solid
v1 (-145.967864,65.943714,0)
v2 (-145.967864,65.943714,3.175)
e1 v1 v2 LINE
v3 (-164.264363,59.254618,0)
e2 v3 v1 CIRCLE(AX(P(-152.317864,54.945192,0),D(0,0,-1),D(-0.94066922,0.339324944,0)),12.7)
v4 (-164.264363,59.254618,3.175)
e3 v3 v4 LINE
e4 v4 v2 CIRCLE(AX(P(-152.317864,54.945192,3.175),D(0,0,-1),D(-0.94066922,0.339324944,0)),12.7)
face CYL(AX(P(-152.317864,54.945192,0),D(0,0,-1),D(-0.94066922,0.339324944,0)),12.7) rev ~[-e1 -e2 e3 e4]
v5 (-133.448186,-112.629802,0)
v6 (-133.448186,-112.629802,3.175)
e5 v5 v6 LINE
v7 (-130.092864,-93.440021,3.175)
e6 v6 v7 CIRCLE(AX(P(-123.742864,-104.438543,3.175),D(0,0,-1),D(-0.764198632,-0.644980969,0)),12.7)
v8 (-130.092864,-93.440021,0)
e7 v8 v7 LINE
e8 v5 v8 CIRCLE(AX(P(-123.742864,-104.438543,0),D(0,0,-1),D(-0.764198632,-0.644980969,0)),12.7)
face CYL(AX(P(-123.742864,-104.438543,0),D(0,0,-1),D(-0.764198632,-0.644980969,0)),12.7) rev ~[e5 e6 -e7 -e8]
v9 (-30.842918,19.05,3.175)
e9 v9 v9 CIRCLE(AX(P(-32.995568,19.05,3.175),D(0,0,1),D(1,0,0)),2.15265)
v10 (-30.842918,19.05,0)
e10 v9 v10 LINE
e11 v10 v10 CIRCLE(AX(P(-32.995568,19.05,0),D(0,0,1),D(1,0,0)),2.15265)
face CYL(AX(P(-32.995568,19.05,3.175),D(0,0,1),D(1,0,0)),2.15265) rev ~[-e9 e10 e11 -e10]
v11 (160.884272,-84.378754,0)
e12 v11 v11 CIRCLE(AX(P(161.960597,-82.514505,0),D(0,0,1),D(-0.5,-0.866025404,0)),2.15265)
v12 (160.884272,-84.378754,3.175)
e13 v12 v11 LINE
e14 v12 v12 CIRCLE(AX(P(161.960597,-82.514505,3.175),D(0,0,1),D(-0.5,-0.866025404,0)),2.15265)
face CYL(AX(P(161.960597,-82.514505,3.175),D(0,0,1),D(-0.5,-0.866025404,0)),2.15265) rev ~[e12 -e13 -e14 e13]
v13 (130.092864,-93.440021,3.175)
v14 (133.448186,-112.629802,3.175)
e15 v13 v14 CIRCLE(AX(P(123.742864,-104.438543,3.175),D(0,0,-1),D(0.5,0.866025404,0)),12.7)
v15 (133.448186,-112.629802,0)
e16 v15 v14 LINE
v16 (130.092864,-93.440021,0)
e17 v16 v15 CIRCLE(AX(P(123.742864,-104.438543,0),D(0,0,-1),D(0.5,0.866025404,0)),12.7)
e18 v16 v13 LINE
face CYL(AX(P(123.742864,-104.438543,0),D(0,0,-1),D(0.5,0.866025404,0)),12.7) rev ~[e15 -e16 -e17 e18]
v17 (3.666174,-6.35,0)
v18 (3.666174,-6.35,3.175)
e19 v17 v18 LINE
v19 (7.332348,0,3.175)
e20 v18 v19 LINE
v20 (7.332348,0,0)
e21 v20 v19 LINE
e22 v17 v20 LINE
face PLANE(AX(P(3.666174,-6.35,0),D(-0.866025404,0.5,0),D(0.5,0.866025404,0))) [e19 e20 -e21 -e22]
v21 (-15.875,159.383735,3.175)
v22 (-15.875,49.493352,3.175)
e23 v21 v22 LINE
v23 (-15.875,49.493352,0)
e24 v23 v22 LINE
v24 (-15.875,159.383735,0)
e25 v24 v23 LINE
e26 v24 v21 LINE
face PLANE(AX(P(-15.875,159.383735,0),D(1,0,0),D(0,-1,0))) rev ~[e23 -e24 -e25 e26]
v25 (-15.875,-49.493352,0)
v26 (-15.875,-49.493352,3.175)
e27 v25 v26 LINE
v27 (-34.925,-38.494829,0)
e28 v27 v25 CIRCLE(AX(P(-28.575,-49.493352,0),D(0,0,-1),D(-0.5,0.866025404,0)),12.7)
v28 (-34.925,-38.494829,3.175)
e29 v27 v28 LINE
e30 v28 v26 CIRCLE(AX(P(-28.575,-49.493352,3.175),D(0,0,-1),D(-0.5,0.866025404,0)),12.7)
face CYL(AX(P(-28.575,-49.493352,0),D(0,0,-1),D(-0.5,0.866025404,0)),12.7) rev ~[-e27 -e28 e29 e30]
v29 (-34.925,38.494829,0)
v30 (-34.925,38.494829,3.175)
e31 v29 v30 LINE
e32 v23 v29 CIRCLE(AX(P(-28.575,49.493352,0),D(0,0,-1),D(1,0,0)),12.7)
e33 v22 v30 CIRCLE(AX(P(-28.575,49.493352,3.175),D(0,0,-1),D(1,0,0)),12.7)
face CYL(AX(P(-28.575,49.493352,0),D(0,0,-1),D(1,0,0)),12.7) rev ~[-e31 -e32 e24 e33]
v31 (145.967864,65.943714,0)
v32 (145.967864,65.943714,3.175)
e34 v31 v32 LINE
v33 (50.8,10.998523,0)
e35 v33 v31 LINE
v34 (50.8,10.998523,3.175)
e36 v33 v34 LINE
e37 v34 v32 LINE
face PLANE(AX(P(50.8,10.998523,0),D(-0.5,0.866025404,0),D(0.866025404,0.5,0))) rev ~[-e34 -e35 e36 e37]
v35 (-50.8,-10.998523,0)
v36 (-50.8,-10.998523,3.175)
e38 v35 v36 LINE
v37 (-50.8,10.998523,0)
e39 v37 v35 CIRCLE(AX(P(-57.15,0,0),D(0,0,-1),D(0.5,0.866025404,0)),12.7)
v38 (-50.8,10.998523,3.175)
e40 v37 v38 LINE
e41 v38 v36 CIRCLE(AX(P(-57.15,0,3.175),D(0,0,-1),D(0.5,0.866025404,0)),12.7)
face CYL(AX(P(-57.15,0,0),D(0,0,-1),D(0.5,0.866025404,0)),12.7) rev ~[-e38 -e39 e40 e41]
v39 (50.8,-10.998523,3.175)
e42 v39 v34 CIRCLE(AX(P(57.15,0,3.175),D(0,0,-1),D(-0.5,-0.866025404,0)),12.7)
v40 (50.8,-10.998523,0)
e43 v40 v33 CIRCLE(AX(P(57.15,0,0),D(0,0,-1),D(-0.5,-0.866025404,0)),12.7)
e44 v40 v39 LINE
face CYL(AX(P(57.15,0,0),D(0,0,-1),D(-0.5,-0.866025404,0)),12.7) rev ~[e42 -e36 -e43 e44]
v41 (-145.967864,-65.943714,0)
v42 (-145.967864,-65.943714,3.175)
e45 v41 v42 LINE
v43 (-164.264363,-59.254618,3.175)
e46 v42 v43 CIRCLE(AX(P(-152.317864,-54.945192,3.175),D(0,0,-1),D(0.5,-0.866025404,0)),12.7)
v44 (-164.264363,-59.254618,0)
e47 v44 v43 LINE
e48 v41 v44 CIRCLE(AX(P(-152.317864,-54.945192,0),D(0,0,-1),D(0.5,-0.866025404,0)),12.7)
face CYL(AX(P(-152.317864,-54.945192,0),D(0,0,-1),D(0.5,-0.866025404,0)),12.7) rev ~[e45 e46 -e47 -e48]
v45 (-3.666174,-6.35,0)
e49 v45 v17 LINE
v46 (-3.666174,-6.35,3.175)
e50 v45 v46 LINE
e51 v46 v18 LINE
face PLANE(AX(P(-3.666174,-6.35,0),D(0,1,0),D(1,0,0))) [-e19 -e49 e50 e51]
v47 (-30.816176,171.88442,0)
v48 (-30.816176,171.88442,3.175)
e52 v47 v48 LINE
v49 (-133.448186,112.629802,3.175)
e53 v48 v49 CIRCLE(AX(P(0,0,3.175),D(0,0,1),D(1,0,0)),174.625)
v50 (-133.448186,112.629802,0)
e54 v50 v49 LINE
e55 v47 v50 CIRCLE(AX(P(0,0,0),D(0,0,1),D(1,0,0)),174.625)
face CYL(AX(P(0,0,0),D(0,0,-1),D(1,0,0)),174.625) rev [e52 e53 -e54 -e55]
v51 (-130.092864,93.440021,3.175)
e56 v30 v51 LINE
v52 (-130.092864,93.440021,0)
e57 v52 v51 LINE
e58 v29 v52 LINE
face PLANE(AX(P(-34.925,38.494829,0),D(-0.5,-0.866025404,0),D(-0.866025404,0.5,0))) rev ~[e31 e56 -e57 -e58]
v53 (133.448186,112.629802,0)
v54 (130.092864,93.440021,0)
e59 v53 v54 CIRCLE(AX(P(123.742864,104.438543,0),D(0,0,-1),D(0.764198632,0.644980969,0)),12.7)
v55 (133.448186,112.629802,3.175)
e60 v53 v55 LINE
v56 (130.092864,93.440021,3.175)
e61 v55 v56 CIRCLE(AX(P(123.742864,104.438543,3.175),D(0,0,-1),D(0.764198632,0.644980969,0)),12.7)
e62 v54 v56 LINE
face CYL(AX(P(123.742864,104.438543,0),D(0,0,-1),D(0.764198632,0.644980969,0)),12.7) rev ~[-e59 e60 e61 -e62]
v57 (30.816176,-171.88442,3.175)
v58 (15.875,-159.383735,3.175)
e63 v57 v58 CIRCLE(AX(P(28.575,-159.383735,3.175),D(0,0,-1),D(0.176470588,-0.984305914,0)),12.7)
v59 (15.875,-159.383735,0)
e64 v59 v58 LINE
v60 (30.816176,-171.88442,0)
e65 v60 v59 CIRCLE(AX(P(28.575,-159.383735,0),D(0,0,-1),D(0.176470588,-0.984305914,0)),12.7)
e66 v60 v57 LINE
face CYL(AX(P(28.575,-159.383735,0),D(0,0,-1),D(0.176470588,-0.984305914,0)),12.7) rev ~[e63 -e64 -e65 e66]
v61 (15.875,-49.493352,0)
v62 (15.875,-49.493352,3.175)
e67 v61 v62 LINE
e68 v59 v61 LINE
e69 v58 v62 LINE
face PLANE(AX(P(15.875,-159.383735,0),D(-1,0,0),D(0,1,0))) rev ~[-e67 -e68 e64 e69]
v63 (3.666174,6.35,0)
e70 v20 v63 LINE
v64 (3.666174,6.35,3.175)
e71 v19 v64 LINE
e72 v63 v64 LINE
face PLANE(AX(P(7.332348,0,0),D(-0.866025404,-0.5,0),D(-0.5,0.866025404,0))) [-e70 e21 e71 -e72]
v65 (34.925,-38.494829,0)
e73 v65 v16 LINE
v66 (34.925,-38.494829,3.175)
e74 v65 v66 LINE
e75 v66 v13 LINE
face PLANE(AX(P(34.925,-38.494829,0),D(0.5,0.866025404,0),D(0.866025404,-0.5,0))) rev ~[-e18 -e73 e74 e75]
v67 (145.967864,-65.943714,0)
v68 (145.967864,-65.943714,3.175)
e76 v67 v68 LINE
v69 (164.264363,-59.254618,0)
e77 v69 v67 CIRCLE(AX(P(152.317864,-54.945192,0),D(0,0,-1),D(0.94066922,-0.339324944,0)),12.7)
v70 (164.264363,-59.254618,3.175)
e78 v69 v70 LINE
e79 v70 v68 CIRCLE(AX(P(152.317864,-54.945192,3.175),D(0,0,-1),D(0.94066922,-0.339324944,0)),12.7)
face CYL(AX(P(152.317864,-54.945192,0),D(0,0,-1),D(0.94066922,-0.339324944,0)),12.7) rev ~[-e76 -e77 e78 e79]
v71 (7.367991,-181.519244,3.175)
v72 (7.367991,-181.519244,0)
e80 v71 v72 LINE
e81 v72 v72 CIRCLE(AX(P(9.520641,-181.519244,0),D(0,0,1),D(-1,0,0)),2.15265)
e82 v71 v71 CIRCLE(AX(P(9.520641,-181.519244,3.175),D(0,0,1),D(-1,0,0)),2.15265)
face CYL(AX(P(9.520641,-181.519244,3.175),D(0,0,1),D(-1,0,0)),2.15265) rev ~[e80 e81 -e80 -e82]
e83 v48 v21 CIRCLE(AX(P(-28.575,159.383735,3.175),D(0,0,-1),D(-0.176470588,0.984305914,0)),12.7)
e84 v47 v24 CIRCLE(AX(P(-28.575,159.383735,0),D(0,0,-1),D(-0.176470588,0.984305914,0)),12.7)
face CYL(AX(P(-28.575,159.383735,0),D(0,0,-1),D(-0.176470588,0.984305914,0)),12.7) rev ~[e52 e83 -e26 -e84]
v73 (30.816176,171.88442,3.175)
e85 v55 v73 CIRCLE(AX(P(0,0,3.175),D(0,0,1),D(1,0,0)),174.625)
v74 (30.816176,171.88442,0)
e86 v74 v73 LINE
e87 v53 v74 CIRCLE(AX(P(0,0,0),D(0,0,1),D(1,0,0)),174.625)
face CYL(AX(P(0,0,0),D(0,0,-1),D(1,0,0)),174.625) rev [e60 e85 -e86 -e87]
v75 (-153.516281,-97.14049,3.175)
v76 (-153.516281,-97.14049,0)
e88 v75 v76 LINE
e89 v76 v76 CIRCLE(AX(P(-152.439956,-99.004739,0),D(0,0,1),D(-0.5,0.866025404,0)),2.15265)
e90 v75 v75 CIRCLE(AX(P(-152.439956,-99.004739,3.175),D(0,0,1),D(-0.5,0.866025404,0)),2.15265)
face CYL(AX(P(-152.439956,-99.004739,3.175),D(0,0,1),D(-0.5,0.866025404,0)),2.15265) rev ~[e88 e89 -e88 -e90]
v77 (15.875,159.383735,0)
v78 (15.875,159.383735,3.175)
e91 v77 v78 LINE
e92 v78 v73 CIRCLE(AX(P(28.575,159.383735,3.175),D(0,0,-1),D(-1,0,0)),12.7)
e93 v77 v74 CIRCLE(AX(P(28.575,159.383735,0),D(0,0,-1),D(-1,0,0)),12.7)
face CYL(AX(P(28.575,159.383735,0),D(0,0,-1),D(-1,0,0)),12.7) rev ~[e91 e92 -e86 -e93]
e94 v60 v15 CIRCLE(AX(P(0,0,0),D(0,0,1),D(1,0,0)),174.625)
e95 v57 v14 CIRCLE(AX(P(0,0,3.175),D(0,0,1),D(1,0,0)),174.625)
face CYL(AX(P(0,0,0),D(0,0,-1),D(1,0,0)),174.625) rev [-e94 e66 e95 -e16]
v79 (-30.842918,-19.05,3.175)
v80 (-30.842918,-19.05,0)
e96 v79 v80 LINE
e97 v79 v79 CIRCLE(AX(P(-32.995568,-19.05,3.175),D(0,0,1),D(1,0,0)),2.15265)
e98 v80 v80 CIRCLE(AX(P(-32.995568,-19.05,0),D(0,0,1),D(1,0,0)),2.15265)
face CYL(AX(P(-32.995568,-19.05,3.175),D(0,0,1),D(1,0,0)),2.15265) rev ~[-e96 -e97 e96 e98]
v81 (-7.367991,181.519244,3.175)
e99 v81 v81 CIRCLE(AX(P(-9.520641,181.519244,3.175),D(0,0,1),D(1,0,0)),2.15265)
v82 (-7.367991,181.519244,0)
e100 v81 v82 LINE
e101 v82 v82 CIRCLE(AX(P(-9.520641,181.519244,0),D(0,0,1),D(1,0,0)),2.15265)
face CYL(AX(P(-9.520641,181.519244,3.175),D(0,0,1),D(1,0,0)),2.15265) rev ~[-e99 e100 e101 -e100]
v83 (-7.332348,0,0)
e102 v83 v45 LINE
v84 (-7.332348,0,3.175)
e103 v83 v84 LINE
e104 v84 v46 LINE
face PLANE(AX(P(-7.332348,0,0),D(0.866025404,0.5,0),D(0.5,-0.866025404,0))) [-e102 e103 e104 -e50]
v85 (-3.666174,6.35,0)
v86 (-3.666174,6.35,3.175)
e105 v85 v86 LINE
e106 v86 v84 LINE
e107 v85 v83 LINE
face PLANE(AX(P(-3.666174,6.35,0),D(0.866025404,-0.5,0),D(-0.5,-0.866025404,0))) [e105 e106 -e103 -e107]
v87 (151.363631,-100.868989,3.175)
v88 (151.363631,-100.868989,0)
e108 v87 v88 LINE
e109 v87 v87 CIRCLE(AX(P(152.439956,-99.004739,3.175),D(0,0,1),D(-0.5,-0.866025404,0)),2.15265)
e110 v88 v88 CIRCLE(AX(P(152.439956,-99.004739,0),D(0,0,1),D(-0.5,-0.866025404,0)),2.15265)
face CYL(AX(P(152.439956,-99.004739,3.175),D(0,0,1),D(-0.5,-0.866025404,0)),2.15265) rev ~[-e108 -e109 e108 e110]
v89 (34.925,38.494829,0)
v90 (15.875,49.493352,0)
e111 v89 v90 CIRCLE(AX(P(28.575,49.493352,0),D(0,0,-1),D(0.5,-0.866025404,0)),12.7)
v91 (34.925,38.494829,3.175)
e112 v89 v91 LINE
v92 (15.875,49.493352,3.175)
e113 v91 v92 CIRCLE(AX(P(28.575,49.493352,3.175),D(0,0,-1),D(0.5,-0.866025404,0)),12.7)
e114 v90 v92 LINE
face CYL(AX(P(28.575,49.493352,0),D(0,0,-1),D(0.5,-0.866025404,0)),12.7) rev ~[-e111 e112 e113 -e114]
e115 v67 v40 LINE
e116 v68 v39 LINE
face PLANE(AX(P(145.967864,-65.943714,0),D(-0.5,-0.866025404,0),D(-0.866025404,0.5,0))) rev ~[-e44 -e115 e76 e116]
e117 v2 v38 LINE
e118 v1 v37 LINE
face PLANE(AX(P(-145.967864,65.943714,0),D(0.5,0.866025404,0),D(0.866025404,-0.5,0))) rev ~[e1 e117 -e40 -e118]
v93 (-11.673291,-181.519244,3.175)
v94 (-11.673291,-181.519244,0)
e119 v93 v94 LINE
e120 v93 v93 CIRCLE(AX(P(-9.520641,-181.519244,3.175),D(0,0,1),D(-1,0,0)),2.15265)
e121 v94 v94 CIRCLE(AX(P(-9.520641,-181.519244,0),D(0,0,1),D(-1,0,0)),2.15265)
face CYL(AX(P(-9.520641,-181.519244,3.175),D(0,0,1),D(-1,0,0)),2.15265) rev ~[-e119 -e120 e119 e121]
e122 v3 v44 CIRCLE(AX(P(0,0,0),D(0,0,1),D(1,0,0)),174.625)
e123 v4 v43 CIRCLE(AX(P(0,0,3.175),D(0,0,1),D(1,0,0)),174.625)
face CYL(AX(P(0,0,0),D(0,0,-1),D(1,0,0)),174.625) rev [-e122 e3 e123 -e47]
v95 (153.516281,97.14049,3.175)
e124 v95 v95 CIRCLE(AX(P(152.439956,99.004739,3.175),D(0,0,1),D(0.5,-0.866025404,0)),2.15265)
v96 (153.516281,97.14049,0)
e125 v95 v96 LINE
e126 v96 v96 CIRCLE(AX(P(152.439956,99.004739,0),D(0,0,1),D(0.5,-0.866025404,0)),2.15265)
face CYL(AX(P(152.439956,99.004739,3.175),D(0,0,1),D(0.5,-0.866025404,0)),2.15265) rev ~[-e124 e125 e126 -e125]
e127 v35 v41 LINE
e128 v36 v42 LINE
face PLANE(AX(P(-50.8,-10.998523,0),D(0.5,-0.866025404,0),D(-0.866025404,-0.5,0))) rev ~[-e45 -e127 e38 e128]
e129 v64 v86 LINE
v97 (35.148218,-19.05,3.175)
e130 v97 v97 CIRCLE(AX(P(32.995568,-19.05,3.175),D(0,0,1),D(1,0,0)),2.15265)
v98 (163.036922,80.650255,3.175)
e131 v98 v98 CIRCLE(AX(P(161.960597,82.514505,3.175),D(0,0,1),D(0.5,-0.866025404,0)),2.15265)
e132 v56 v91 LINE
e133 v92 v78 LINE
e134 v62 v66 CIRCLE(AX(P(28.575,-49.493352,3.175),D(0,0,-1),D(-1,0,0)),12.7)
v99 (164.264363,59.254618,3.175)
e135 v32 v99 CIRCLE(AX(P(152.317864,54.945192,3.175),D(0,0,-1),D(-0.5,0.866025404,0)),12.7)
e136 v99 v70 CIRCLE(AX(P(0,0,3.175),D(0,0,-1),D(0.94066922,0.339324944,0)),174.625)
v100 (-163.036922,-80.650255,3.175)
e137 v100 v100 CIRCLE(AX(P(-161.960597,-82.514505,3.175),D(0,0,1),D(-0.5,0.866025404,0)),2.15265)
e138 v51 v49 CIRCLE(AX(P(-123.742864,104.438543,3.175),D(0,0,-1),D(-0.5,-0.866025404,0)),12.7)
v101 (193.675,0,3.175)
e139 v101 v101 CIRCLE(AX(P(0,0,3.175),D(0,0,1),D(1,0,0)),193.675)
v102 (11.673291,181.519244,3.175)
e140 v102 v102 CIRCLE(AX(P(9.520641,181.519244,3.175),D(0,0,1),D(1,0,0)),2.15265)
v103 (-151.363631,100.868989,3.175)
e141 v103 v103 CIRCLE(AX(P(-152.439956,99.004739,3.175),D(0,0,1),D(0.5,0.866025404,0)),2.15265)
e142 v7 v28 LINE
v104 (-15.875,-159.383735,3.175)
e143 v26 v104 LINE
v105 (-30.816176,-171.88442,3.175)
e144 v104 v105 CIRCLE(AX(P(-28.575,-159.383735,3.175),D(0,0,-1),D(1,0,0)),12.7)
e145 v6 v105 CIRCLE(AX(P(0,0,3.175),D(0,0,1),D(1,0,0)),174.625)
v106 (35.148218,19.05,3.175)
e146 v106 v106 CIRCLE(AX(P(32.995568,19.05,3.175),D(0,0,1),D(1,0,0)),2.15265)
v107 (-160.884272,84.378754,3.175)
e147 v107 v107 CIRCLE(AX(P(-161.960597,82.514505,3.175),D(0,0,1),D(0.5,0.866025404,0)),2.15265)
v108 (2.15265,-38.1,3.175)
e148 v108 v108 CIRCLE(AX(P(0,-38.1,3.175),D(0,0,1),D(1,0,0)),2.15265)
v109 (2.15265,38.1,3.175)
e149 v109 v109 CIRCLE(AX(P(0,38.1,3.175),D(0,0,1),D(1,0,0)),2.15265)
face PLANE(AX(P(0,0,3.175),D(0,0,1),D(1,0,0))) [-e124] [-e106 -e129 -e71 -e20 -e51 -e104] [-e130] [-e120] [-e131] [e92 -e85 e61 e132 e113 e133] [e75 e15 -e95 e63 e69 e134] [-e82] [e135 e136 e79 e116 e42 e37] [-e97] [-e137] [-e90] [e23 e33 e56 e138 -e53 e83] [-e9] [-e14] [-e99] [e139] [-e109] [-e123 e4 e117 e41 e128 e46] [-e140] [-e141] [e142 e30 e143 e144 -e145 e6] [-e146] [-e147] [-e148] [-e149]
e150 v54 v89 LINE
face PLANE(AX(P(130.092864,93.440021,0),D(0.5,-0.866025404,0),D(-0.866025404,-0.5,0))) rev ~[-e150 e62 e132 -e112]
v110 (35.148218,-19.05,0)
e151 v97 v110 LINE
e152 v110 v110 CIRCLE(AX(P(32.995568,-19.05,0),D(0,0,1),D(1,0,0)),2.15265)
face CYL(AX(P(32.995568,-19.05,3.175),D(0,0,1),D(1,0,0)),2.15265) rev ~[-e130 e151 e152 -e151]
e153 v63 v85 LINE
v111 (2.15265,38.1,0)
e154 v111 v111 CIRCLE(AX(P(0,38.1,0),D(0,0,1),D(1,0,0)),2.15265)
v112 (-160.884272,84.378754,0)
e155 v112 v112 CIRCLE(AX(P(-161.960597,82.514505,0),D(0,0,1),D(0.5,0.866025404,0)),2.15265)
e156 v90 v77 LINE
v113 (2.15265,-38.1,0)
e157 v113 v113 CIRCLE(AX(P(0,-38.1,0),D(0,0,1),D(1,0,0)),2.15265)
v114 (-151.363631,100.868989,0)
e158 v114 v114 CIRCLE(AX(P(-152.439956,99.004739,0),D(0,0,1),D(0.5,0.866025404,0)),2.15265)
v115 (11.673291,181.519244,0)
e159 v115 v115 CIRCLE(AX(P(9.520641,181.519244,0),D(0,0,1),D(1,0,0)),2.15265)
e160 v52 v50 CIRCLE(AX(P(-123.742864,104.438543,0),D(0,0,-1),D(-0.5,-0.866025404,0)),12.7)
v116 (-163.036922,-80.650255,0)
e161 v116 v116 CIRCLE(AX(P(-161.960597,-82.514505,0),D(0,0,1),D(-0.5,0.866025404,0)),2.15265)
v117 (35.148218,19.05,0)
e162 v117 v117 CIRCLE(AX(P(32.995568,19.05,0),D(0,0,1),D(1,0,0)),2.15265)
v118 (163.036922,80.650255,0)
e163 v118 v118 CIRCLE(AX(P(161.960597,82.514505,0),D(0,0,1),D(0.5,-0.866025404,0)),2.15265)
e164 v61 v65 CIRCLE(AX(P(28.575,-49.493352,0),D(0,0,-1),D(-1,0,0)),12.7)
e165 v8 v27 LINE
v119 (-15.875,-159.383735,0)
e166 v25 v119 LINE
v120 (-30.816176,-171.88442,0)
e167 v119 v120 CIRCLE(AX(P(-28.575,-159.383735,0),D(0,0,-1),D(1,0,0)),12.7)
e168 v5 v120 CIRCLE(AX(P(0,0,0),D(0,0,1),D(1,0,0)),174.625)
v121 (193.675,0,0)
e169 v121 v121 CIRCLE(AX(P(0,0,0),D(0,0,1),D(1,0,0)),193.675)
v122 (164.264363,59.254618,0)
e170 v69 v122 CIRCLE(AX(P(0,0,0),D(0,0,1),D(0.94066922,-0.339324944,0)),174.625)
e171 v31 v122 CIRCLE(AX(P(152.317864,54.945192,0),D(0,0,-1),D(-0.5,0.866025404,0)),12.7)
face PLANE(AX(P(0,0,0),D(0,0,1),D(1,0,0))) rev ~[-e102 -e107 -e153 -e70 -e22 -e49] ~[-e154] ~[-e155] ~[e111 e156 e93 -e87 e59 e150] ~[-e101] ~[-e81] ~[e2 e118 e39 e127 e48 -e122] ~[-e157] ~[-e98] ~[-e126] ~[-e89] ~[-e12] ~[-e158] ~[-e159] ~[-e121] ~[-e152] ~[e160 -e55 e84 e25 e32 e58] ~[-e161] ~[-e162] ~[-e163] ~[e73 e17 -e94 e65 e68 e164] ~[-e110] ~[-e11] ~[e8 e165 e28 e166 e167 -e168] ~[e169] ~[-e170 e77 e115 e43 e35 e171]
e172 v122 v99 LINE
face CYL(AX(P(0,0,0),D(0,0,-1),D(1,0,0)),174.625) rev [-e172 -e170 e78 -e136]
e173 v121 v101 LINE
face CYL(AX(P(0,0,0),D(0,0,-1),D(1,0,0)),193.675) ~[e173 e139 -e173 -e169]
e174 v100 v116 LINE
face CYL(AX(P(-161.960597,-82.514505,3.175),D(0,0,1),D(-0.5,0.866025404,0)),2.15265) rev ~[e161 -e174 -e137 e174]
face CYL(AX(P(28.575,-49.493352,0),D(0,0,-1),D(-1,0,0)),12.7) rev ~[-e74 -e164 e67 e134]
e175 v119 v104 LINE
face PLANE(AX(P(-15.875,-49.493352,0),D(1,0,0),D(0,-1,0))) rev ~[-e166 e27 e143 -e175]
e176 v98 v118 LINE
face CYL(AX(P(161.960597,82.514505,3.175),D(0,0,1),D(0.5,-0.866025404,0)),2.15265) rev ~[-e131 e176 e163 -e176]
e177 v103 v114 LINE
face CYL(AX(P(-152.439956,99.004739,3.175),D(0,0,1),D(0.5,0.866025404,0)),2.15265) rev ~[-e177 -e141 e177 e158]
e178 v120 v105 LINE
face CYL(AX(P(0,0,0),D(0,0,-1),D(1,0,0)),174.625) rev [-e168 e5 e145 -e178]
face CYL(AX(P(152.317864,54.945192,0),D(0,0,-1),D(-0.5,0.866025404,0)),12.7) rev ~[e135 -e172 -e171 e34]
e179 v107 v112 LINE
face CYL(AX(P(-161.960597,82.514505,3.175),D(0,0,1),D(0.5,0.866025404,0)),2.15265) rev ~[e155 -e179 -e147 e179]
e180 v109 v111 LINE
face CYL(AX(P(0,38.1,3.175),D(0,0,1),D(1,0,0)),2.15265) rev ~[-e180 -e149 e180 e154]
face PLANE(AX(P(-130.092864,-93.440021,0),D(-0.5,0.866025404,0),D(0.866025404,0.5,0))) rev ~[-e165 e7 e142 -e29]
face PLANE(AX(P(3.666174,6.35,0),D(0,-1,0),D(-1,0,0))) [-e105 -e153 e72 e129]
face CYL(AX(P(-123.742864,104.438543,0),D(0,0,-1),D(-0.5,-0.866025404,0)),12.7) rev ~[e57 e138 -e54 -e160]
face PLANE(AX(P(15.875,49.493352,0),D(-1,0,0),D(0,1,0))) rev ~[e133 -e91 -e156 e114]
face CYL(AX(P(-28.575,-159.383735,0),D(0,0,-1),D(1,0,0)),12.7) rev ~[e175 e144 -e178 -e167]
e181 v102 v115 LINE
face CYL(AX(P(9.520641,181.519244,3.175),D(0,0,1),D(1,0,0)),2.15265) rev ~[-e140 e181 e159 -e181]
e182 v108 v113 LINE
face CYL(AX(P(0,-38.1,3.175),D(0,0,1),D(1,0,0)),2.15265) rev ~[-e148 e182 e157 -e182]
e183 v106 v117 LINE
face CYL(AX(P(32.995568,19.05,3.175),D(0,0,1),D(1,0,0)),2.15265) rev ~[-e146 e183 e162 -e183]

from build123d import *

# Parameters (mm, degrees)
SKETCH1_R             = 193.675
SKETCH1_R_2           = 174.625
BOSS_EXTRUDE1_DEPTH   = 3.175
SKETCH1_R_3           = 33.3375
BOSS_EXTRUDE1_2_DEPTH = 3.175
BOSS_EXTRUDE2_START   = -3.175
BOSS_EXTRUDE2_DEPTH   = 3.175
SKETCH3_R             = 2.15265
CUT_EXTRUDE1_DEPTH    = 3.175
SKETCH4_R             = 2.15265
CUT_EXTRUDE2_DEPTH    = 3.175
CIRPATTERN1_COUNT     = 6


with BuildPart() as part:
    # Sketch1 → Boss-Extrude1 (new body)
    with BuildSketch(Plane.XY):
        Circle(SKETCH1_R)
        Circle(SKETCH1_R_2, mode=Mode.SUBTRACT)
    extrude(amount=BOSS_EXTRUDE1_DEPTH)



with BuildPart() as body_2:
    # Sketch1 → Boss-Extrude1 2 (new body)
    with BuildSketch(Plane.XY):
        Circle(SKETCH1_R_3)
        Polygon((7.332348419, 0), (3.666174209, 6.35), (-3.666174209, 6.35), (-7.332348419, 0), (-3.666174209, -6.35), (3.666174209, -6.35), align=None, mode=Mode.SUBTRACT)
    extrude(amount=BOSS_EXTRUDE1_2_DEPTH)


with BuildPart() as part_1:
    add(part.part)

    add(body_2.part)  # Boss-Extrude2 merges body 2
    # Sketch2 → Boss-Extrude2 (add)
    with BuildSketch(Plane.XY.offset(3.175).offset(BOSS_EXTRUDE2_START)):
        with BuildLine():
            Line((15.875, 49.493351826), (15.875, 159.383735055))
            ThreePointArc((15.875, 159.383735055), (20.425550361, 169.124190413), (30.816176471, 171.884420157))
            ThreePointArc((30.816176471, 171.884420157), (0, 174.625), (-30.816176471, 171.884420157))
            ThreePointArc((-30.816176471, 171.884420157), (-20.425550361, 169.124190413), (-15.875, 159.383735055))
            Line((-15.875, 159.383735055), (-15.875, 49.493351826))
            ThreePointArc((-15.875, 49.493351826), (-22.225, 38.494829198), (-34.925, 38.494829198))
            Line((-34.925, 38.494829198), (-130.092863507, 93.440020812))
            ThreePointArc((-130.092863507, 93.440020812), (-136.253070112, 102.251140706), (-133.448186135, 112.62980175))
            ThreePointArc((-133.448186135, 112.62980175), (-151.229686136, 87.3125), (-164.264362606, 59.254618408))
            ThreePointArc((-164.264362606, 59.254618408), (-156.678620473, 66.873049707), (-145.967863507, 65.943714242))
            Line((-145.967863507, 65.943714242), (-50.8, 10.998522628))
            ThreePointArc((-50.8, 10.998522628), (-44.45, 0), (-50.8, -10.998522628))
            Line((-50.8, -10.998522628), (-145.967863507, -65.943714242))
            ThreePointArc((-145.967863507, -65.943714242), (-156.678620473, -66.873049707), (-164.264362606, -59.254618408))
            ThreePointArc((-164.264362606, -59.254618408), (-151.229686136, -87.3125), (-133.448186135, -112.62980175))
            ThreePointArc((-133.448186135, -112.62980175), (-136.253070112, -102.251140706), (-130.092863507, -93.440020812))
            Line((-130.092863507, -93.440020812), (-34.925, -38.494829198))
            ThreePointArc((-34.925, -38.494829198), (-22.225, -38.494829198), (-15.875, -49.493351826))
            Line((-15.875, -49.493351826), (-15.875, -159.383735055))
            ThreePointArc((-15.875, -159.383735055), (-20.425550361, -169.124190413), (-30.816176471, -171.884420157))
            ThreePointArc((-30.816176471, -171.884420157), (0, -174.625), (30.816176471, -171.884420157))
            ThreePointArc((30.816176471, -171.884420157), (20.425550361, -169.124190413), (15.875, -159.383735055))
            Line((15.875, -159.383735055), (15.875, -49.493351826))
            ThreePointArc((15.875, -49.493351826), (22.225, -38.494829198), (34.925, -38.494829198))
            Line((34.925, -38.494829198), (130.092863507, -93.440020812))
            ThreePointArc((130.092863507, -93.440020812), (136.253070112, -102.251140706), (133.448186135, -112.62980175))
            ThreePointArc((133.448186135, -112.62980175), (151.229686136, -87.3125), (164.264362606, -59.254618408))
            ThreePointArc((164.264362606, -59.254618408), (156.678620473, -66.873049707), (145.967863507, -65.943714242))
            Line((145.967863507, -65.943714242), (50.8, -10.998522628))
            ThreePointArc((50.8, -10.998522628), (44.45, 0), (50.8, 10.998522628))
            Line((50.8, 10.998522628), (145.967863507, 65.943714242))
            ThreePointArc((145.967863507, 65.943714242), (156.678620473, 66.873049707), (164.264362606, 59.254618408))
            ThreePointArc((164.264362606, 59.254618408), (151.229686136, 87.3125), (133.448186135, 112.62980175))
            ThreePointArc((133.448186135, 112.62980175), (136.253070112, 102.251140706), (130.092863507, 93.440020812))
            Line((130.092863507, 93.440020812), (34.925, 38.494829198))
            ThreePointArc((34.925, 38.494829198), (22.225, 38.494829198), (15.875, 49.493351826))
        make_face()
        Polygon((7.332348419, 0), (3.666174209, 6.35), (-3.666174209, 6.35), (-7.332348419, 0), (-3.666174209, -6.35), (3.666174209, -6.35), align=None, mode=Mode.SUBTRACT)
    extrude(amount=BOSS_EXTRUDE2_DEPTH)

    # Sketch3 → Cut-Extrude1 (cut)
    with BuildSketch(Plane.XY.offset(3.175)):
        with Locations((0, 38.1)):
            Circle(SKETCH3_R)
        with Locations((32.995567884, 19.05)):
            Circle(SKETCH3_R)
        with Locations((32.995567884, -19.05)):
            Circle(SKETCH3_R)
        with Locations((0, -38.1)):
            Circle(SKETCH3_R)
        with Locations((-32.995567884, -19.05)):
            Circle(SKETCH3_R)
        with Locations((-32.995567884, 19.05)):
            Circle(SKETCH3_R)
    extrude(amount=-CUT_EXTRUDE1_DEPTH, mode=Mode.SUBTRACT)

    # Sketch4 → Cut-Extrude2 (cut)
    with BuildSketch(Plane.XY.offset(3.175)):
        with Locations((-9.520641414, 181.519243783)):
            Circle(SKETCH4_R)
        with Locations((9.520641414, 181.519243783)):
            Circle(SKETCH4_R)
    cut_extrude2 = extrude(amount=-CUT_EXTRUDE2_DEPTH, mode=Mode.SUBTRACT)

    # CirPattern1: Cut-Extrude2 ×6 about axis
    cirpattern1_axis = Axis((0, 0, 0), (0, 0, 1))
    for i in range(1, CIRPATTERN1_COUNT):
        add(cut_extrude2.rotate(cirpattern1_axis, i * 360 / CIRPATTERN1_COUNT), mode=Mode.SUBTRACT)


solid = part_1.part
